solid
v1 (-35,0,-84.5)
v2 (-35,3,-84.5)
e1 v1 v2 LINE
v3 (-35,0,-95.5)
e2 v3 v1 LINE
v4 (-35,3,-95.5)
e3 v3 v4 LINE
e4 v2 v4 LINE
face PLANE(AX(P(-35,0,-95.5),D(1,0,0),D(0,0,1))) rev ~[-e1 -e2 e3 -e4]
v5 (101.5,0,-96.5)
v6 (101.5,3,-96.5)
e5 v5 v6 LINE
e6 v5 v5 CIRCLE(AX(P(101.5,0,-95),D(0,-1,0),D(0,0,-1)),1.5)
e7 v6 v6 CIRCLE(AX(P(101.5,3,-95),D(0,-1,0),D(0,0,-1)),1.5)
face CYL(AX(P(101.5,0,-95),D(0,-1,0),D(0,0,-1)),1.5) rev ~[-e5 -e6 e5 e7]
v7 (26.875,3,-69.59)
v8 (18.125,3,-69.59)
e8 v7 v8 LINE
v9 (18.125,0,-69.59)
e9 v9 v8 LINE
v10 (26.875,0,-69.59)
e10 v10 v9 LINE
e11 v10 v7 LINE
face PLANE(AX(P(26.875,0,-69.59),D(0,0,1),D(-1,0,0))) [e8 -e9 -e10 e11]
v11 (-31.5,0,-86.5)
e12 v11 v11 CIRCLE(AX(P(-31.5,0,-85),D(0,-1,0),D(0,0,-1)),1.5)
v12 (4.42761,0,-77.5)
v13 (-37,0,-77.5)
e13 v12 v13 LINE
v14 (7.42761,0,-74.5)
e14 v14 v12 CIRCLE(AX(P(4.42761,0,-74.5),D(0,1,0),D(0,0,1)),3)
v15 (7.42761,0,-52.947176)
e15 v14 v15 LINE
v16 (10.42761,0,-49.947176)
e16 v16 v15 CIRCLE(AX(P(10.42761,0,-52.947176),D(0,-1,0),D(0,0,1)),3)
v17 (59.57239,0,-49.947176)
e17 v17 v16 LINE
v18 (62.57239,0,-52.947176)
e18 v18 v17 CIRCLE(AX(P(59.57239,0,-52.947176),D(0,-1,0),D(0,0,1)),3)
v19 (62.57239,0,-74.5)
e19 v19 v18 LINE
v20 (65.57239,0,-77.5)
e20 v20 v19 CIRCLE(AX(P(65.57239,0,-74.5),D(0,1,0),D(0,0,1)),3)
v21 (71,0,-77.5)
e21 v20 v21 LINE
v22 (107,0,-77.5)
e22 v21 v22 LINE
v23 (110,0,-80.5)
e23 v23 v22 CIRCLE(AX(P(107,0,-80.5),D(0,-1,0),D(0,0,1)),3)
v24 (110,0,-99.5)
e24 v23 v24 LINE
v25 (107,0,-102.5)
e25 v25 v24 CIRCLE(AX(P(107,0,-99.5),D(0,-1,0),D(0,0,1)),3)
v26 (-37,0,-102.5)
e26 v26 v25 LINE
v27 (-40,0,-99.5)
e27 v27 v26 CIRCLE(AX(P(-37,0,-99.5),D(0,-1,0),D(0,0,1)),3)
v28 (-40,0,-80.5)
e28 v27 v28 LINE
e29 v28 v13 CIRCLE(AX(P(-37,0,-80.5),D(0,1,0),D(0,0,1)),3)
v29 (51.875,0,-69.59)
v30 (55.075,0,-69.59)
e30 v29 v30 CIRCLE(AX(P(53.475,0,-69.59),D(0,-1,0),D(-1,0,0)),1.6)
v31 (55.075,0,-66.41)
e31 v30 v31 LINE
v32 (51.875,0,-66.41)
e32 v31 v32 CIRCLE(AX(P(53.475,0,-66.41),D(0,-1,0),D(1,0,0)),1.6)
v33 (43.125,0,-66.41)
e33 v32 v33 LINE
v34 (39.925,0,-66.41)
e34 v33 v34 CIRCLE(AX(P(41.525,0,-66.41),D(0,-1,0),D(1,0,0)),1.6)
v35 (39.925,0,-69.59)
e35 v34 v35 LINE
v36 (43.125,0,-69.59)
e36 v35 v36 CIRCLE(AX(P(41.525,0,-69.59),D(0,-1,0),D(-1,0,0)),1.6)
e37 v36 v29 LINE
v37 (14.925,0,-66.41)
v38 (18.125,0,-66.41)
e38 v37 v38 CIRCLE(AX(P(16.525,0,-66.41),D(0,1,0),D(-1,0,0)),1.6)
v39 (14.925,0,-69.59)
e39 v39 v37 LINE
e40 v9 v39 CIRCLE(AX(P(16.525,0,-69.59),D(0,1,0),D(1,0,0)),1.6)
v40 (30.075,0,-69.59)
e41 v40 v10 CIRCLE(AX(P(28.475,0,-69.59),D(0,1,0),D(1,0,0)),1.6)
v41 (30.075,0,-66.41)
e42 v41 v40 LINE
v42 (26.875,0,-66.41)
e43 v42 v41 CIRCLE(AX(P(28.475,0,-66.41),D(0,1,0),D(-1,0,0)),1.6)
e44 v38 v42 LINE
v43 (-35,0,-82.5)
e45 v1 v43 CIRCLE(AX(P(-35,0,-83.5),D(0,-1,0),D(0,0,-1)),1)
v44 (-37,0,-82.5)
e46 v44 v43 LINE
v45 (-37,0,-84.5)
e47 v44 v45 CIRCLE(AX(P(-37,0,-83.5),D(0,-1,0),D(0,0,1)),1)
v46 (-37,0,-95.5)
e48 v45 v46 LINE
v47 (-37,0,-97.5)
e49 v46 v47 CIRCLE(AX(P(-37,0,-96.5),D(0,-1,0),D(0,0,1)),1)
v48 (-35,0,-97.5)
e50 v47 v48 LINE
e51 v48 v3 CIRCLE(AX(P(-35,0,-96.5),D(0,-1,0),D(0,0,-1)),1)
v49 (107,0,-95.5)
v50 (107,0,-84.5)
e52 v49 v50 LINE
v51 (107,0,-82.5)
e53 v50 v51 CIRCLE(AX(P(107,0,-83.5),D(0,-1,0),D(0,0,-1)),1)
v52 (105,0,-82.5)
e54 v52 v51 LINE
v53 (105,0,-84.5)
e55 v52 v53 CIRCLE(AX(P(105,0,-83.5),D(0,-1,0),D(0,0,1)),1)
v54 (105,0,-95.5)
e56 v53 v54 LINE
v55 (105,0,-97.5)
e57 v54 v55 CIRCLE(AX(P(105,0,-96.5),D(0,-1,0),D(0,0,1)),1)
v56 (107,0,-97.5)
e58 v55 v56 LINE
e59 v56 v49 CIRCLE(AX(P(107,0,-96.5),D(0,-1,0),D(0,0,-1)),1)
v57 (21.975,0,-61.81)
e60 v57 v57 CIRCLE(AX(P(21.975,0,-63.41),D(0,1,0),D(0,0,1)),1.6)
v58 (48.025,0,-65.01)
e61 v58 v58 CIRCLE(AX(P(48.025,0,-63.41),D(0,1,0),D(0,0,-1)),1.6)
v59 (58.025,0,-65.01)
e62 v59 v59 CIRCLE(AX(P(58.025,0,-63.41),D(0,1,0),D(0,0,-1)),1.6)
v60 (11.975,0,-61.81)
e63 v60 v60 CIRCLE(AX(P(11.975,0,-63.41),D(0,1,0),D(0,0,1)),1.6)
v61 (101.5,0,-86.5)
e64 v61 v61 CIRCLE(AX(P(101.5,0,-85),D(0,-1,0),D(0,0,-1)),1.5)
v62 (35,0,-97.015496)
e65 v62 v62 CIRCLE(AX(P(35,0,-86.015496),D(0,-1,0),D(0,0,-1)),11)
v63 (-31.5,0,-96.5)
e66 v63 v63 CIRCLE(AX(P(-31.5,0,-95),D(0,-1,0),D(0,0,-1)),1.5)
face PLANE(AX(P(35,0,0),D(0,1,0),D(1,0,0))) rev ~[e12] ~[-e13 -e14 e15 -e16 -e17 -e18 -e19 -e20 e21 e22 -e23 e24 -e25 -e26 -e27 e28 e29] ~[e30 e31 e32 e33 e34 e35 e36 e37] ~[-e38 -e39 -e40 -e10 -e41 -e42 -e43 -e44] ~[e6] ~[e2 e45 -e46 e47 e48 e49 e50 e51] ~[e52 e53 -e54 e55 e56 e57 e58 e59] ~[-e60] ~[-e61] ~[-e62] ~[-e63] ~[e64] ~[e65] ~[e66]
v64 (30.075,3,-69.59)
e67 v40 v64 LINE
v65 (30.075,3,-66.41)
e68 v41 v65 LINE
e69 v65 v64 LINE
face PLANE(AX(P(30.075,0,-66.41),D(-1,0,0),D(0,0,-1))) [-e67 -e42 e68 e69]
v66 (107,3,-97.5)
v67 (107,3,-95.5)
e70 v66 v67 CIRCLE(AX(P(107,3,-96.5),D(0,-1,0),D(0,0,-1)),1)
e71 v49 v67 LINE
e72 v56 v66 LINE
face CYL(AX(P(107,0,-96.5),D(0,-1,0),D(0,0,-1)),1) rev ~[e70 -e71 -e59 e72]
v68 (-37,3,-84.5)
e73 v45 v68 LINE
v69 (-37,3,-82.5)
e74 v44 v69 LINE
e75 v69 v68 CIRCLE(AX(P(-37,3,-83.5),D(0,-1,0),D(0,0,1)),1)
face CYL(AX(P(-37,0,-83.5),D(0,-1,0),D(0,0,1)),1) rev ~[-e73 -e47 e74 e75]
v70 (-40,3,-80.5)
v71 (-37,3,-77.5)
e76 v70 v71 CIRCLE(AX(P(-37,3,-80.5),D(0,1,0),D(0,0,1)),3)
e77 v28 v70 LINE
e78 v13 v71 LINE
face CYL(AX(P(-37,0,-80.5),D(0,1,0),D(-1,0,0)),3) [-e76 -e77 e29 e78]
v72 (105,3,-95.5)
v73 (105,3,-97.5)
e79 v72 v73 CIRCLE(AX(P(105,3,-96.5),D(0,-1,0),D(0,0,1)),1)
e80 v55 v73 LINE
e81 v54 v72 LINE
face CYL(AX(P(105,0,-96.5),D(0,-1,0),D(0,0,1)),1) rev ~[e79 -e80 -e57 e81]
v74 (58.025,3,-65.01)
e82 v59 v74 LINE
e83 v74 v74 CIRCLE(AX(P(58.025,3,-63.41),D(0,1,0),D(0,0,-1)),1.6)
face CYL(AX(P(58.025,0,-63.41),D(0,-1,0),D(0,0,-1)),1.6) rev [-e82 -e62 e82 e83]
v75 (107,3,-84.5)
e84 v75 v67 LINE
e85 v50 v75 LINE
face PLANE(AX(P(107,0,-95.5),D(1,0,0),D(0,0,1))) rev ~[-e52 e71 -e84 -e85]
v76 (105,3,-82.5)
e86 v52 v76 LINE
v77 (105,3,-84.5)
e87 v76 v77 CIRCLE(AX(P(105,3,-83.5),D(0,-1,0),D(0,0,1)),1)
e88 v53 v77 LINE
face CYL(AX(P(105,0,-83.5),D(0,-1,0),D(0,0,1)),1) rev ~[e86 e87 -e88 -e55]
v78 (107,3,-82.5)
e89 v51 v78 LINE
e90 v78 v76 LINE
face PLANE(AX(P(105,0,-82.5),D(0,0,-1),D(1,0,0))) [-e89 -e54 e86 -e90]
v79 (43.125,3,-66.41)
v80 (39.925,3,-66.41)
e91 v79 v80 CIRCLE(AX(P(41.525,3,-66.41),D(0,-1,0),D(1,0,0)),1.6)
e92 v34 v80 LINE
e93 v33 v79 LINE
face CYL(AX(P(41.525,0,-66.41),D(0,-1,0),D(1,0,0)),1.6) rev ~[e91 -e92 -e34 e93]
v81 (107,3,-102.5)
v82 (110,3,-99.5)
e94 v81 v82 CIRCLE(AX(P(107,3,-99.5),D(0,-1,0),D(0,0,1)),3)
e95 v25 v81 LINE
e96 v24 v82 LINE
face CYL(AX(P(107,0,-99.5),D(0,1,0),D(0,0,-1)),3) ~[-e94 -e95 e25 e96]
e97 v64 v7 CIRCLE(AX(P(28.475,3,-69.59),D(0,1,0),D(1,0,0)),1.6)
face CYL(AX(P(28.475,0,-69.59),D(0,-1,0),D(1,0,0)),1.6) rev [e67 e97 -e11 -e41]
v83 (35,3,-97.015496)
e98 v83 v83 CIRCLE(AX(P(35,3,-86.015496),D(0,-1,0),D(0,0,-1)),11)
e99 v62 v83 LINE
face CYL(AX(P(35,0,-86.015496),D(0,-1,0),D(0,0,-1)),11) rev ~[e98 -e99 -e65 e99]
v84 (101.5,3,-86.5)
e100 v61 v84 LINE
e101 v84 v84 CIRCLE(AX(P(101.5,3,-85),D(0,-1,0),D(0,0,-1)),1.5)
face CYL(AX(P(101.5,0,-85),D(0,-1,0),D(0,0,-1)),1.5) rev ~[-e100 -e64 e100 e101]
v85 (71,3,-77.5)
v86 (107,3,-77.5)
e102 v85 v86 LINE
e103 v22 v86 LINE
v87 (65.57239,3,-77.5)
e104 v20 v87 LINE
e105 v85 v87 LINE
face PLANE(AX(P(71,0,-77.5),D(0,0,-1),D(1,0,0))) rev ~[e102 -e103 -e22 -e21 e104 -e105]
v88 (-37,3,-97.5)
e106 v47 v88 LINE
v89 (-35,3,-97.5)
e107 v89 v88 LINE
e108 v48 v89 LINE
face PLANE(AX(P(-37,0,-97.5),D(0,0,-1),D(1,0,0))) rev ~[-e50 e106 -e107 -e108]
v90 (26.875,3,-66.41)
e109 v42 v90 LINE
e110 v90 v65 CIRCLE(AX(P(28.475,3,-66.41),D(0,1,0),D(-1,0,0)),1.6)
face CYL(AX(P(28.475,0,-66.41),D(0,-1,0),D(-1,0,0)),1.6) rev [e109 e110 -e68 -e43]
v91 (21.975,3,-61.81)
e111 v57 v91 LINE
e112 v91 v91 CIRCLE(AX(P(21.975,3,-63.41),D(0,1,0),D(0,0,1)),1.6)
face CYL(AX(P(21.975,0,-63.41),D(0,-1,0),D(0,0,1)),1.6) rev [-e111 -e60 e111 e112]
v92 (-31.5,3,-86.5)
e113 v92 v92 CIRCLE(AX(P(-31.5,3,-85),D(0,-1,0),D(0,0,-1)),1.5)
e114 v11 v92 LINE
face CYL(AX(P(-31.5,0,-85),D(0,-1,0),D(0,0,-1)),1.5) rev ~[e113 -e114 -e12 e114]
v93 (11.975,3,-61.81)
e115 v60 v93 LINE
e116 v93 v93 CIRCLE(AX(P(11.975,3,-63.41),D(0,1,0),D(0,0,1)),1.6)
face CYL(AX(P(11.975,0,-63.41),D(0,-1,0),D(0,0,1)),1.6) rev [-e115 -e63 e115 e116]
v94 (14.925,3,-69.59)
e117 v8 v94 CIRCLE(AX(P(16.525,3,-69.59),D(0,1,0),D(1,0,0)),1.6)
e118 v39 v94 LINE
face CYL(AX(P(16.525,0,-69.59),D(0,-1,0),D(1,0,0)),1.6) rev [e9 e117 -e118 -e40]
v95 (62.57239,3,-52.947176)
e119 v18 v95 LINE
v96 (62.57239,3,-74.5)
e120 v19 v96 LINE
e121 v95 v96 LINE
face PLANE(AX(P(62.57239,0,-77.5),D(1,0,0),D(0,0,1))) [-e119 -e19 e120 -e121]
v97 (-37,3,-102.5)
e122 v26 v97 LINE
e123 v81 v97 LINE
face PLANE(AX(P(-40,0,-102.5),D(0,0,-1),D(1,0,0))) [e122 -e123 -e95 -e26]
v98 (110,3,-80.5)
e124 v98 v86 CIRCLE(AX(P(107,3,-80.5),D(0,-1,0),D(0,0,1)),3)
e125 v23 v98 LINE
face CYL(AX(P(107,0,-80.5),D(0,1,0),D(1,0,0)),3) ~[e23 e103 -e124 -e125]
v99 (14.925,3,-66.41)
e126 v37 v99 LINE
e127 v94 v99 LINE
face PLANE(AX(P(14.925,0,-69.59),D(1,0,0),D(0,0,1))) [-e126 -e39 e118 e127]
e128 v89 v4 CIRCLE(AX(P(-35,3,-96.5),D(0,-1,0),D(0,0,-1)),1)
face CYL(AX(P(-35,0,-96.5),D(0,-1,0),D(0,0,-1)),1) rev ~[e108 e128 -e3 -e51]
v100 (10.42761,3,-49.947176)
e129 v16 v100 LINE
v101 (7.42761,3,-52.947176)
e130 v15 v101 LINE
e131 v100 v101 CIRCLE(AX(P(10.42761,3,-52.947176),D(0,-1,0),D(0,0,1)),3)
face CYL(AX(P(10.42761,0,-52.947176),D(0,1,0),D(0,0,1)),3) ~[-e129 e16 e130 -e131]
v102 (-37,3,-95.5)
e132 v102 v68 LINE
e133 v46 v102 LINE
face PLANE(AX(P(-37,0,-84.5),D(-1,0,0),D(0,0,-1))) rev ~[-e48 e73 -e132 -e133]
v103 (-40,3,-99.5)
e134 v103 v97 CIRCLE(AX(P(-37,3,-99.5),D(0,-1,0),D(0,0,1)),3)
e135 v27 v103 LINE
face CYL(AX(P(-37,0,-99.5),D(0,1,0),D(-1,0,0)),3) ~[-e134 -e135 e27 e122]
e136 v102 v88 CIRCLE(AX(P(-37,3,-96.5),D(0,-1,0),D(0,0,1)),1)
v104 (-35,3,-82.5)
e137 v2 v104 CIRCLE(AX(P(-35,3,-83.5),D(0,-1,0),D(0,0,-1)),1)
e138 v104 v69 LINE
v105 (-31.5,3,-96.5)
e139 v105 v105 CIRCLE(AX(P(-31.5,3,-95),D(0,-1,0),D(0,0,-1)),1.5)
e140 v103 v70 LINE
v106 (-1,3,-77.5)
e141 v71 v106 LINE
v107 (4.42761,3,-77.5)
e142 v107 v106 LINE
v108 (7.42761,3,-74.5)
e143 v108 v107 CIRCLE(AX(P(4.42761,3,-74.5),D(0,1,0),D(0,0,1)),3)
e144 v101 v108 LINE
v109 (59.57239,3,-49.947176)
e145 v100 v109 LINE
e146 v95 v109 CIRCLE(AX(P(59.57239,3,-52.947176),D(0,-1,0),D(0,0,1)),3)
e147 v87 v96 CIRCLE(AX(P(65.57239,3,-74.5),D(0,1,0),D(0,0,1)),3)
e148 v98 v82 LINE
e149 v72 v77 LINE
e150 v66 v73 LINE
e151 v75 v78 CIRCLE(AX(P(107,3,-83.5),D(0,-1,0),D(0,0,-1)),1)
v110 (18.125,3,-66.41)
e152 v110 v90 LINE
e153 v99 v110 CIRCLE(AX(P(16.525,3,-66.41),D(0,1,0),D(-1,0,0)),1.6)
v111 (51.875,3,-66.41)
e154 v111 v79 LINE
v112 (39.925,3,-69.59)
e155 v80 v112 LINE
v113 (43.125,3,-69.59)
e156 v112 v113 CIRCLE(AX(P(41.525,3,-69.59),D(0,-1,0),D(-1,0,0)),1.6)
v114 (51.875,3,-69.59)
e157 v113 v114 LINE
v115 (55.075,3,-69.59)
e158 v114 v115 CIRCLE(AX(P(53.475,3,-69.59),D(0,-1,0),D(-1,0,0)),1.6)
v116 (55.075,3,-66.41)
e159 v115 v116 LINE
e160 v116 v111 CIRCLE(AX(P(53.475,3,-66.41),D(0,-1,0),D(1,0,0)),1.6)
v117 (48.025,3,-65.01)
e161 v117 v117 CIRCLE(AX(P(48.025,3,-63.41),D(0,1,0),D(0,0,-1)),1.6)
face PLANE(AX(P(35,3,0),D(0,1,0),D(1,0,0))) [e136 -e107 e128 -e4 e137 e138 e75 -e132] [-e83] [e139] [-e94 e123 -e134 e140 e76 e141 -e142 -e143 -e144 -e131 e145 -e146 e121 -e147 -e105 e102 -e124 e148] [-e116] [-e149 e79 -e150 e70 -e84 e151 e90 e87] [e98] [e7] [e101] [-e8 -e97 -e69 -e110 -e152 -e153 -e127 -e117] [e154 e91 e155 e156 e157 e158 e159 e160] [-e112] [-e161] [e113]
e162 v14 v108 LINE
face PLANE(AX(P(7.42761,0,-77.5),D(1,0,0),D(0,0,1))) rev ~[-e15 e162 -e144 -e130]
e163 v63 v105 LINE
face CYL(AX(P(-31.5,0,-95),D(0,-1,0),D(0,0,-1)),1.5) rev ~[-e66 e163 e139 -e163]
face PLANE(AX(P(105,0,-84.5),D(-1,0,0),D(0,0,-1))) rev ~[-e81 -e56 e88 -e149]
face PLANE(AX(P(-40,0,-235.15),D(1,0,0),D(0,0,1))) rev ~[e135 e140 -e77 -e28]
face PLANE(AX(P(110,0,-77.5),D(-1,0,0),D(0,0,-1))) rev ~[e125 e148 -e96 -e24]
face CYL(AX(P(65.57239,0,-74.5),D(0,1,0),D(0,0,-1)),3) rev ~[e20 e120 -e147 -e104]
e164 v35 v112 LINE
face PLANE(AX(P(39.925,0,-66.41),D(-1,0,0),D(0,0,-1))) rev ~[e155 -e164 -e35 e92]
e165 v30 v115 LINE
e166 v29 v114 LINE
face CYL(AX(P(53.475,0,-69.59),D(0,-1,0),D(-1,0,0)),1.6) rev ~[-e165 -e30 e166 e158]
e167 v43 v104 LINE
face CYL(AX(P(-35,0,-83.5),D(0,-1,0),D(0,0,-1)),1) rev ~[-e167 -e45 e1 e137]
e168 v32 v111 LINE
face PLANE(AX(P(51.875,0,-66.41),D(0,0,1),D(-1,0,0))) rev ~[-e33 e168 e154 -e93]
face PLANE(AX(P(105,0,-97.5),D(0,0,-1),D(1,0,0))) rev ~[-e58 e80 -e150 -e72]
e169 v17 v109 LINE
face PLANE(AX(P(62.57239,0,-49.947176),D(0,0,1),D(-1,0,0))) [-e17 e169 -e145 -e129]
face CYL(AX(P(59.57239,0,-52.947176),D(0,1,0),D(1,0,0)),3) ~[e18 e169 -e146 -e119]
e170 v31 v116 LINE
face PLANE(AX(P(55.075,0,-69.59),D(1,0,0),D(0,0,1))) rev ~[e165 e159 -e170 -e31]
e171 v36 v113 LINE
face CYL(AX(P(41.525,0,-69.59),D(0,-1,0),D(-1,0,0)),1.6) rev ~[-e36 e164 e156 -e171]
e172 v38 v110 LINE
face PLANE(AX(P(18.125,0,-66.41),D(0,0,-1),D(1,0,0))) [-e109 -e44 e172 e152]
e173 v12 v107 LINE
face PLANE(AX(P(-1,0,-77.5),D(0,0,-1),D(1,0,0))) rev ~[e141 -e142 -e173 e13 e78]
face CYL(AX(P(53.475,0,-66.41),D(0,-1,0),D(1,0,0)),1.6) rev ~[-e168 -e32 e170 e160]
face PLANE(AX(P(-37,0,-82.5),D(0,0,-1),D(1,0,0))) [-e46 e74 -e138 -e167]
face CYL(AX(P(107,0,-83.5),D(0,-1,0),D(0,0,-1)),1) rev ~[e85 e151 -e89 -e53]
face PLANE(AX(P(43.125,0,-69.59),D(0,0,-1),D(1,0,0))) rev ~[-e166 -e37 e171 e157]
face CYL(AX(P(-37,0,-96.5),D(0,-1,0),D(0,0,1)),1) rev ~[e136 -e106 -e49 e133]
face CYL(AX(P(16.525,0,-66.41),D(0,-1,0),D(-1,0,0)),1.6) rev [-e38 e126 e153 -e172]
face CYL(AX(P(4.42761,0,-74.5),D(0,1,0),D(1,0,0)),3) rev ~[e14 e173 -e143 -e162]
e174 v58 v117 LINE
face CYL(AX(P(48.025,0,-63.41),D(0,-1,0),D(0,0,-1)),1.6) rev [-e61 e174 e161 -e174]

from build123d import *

# Parameters (mm, degrees)
SKETCH_1_R          = 1.6
EXTRUDE_1_DEPTH     = 3
SKETCH_5_W          = 8.427610272
SKETCH_5_H          = 29.562823711
CUT_EXTRUDE_4_DEPTH = 10
SKETCH_7_W          = 55.144779456
SKETCH_7_H          = 10
CUT_EXTRUDE_1_DEPTH = 100
CUT_EXTRUDE_5_DEPTH = 100
CUT_EXTRUDE_6_DEPTH = 100
FILLET_3_R          = 3
SKETCH_10_W         = 2
SKETCH_10_H         = 2
SKETCH_10_H_2       = 11
SKETCH_10_R         = 1.5
CUT_EXTRUDE_7_DEPTH = 10
SKETCH_11_R         = 11
CUT_EXTRUDE_8_DEPTH = 10


with BuildPart() as part:
    # 草图1 → 凸台-拉伸1 (new body)
    with BuildSketch(Plane(origin=(0, 0, 0), x_dir=(1, 0, 0), z_dir=(0, 1, 0))):
        Polygon((-1, -77.5), (-40, -77.5), (-40, -235.15), (110, -235.15), (110, -77.5), (71, -77.5), (71, -47.937176289), (113.89906921, -47.937176289), (113.89906921, 47.937176289), (71, 47.937176289), (71, 77.5), (110, 77.5), (110, 235.15), (-40, 235.15), (-40, 77.5), (-1, 77.5), (-1, 47.937176289), (-43.89906921, 47.937176289), (-43.89906921, -47.937176289), (-1, -47.937176289), align=None)
        with Locations(Location((48.025, -63.59, 0), (0, 0, 90))):
            Circle(SKETCH_1_R, mode=Mode.SUBTRACT)
        with Locations(Location((58.025, -63.59, 0), (0, 0, 90))):
            Circle(SKETCH_1_R, mode=Mode.SUBTRACT)
        with Locations(Location((58.025, 63.41, 0), (0, 0, 90))):
            Circle(SKETCH_1_R, mode=Mode.SUBTRACT)
        with Locations(Location((48.025, 63.41, 0), (0, 0, 90))):
            Circle(SKETCH_1_R, mode=Mode.SUBTRACT)
        with Locations(Location((11.975, -63.59, 0), (0, 0, 270))):
            Circle(SKETCH_1_R, mode=Mode.SUBTRACT)
        with Locations(Location((21.975, -63.59, 0), (0, 0, 270))):
            Circle(SKETCH_1_R, mode=Mode.SUBTRACT)
        with Locations(Location((21.975, 63.41, 0), (0, 0, 270))):
            Circle(SKETCH_1_R, mode=Mode.SUBTRACT)
        with Locations(Location((11.975, 63.41, 0), (0, 0, 270))):
            Circle(SKETCH_1_R, mode=Mode.SUBTRACT)
        with BuildLine():
            Line((30.075, -69.59), (30.075, -66.41))
            ThreePointArc((30.075, -66.41), (28.475, -64.81), (26.875, -66.41))
            Line((26.875, -66.41), (18.125, -66.41))
            ThreePointArc((18.125, -66.41), (16.525, -64.81), (14.925, -66.41))
            Line((14.925, -66.41), (14.925, -69.59))
            ThreePointArc((14.925, -69.59), (16.525, -71.19), (18.125, -69.59))
            Line((18.125, -69.59), (26.875, -69.59))
            ThreePointArc((26.875, -69.59), (28.475, -71.19), (30.075, -69.59))
        make_face(mode=Mode.SUBTRACT)
        with BuildLine():
            Line((43.125, 69.59), (51.875, 69.59))
            ThreePointArc((51.875, 69.59), (53.475, 71.19), (55.075, 69.59))
            Line((55.075, 69.59), (55.075, 66.41))
            ThreePointArc((55.075, 66.41), (53.475, 64.81), (51.875, 66.41))
            Line((51.875, 66.41), (43.125, 66.41))
            ThreePointArc((43.125, 66.41), (41.525, 64.81), (39.925, 66.41))
            Line((39.925, 66.41), (39.925, 69.59))
            ThreePointArc((39.925, 69.59), (41.525, 71.19), (43.125, 69.59))
        make_face(mode=Mode.SUBTRACT)
        with BuildLine():
            Line((55.075, -69.59), (55.075, -66.41))
            ThreePointArc((55.075, -66.41), (53.475, -64.81), (51.875, -66.41))
            Line((51.875, -66.41), (43.125, -66.41))
            ThreePointArc((43.125, -66.41), (41.525, -64.81), (39.925, -66.41))
            Line((39.925, -66.41), (39.925, -69.59))
            ThreePointArc((39.925, -69.59), (41.525, -71.19), (43.125, -69.59))
            Line((43.125, -69.59), (51.875, -69.59))
            ThreePointArc((51.875, -69.59), (53.475, -71.19), (55.075, -69.59))
        make_face(mode=Mode.SUBTRACT)
        with BuildLine():
            Line((14.925, 69.59), (14.925, 66.41))
            ThreePointArc((14.925, 66.41), (16.525, 64.81), (18.125, 66.41))
            Line((18.125, 66.41), (26.875, 66.41))
            ThreePointArc((26.875, 66.41), (28.475, 64.81), (30.075, 66.41))
            Line((30.075, 66.41), (30.075, 69.59))
            ThreePointArc((30.075, 69.59), (28.475, 71.19), (26.875, 69.59))
            Line((26.875, 69.59), (18.125, 69.59))
            ThreePointArc((18.125, 69.59), (16.525, 71.19), (14.925, 69.59))
        make_face(mode=Mode.SUBTRACT)
    extrude(amount=EXTRUDE_1_DEPTH)

    # 草图5 → 切除-拉伸4 (cut)
    with BuildSketch(Plane.XZ):
        with Locations((66.786194864, 62.718588145)):
            Rectangle(SKETCH_5_W, SKETCH_5_H)
        with Locations((3.213805136, 62.718588145)):
            Rectangle(SKETCH_5_W, SKETCH_5_H)
        with Locations((3.213805136, -62.718588145)):
            Rectangle(SKETCH_5_W, SKETCH_5_H)
        with Locations((66.786194864, -62.718588145)):
            Rectangle(SKETCH_5_W, SKETCH_5_H)
    extrude(amount=-CUT_EXTRUDE_4_DEPTH, mode=Mode.SUBTRACT)

    # 草图7 → 切除-拉伸-薄壁1 (cut)
    with BuildSketch(Plane(origin=(0, 0, 0), x_dir=(-1, 0, 0), z_dir=(0, -1, 0))):
        with Locations((-35, -55.277176289)):
            Rectangle(SKETCH_7_W, SKETCH_7_H)
        Polygon((-113.89906921, -0.33), (-113.89906921, 47.607176289), (-62.572389728, 47.607176289), (-62.572389728, 49.947176289), (-7.427610272, 49.947176289), (-7.427610272, 47.607176289), (43.89906921, 47.607176289), (43.89906921, -0.33), (33.89906921, -0.33), (33.89906921, 37.607176289), (-17.427610272, 37.607176289), (-17.427610272, 39.947176289), (-52.572389728, 39.947176289), (-52.572389728, 37.607176289), (-103.89906921, 37.607176289), (-103.89906921, -0.33), align=None)
    extrude(amount=-CUT_EXTRUDE_1_DEPTH, mode=Mode.SUBTRACT)


with BuildPart() as cut_extrude_1_piece_1:
    # of the separate pieces the step leaves, piece 1, a body of its own (cut_extrude_1_pieces)
    add(part.part.solids().sort_by_distance((7.427610272, 0, -77.5))[0])

    # 草图9 → 切除-拉伸6 (cut)
    with BuildSketch(Plane.XZ):
        Polygon((-40, -102.5), (110, -102.5), (124.211694431, -119.691261336), (154.987235789, -211.57345947), (124.211694431, -286.861832075), (-63.673505757, -270.701496299), (-75.556105593, -182.770257517), (-74.082044988, -165.632360403), align=None)
    extrude(amount=-CUT_EXTRUDE_6_DEPTH, mode=Mode.SUBTRACT)

    # 圆角3
    fillet_3_edges = [cut_extrude_1_piece_1.edges().sort_by_distance(p)[0] for p in [
        (110, 1.5, -77.5),
        (-40, 1.5, -77.5),
        (62.572389728, 1.5, -77.5),
        (7.427610272, 1.5, -77.5),
        (-40, 1.5, -102.5),
        (110, 1.5, -102.5),
        (7.427610272, 1.5, -49.947176289),
        (62.572389728, 1.5, -49.947176289),
    ]]
    fillet(fillet_3_edges, radius=FILLET_3_R)

    # 草图10 → 切除-拉伸7 (cut)
    with BuildSketch(Plane.XZ):
        with BuildLine():
            ThreePointArc((-35, -84.5), (-34, -83.5), (-35, -82.5))
            Line((-35, -82.5), (-35, -84.5))
        make_face()
        with BuildLine():
            Line((-37, -84.5), (-37, -82.5))
            ThreePointArc((-37, -82.5), (-38, -83.5), (-37, -84.5))
        make_face()
        with Locations((-36, -83.5)):
            Rectangle(SKETCH_10_W, SKETCH_10_H)
        with Locations((-36, -90)):
            Rectangle(SKETCH_10_W, SKETCH_10_H_2)
        with Locations((-36, -96.5)):
            Rectangle(SKETCH_10_W, SKETCH_10_H)
        with BuildLine():
            Line((-37, -97.5), (-37, -95.5))
            ThreePointArc((-37, -95.5), (-38, -96.5), (-37, -97.5))
        make_face()
        with BuildLine():
            ThreePointArc((-35, -97.5), (-34, -96.5), (-35, -95.5))
            Line((-35, -95.5), (-35, -97.5))
        make_face()
        with Locations(Location((-31.5, -95, 0), (0, 0, 270))):
            Circle(SKETCH_10_R)
        with Locations(Location((-31.5, -85, 0), (0, 0, 270))):
            Circle(SKETCH_10_R)
        with BuildLine():
            ThreePointArc((107, -97.5), (108, -96.5), (107, -95.5))
            Line((107, -95.5), (107, -97.5))
        make_face()
        with Locations((106, -96.5)):
            Rectangle(SKETCH_10_W, SKETCH_10_H)
        with BuildLine():
            Line((105, -97.5), (105, -95.5))
            ThreePointArc((105, -95.5), (104, -96.5), (105, -97.5))
        make_face()
        with Locations((106, -90)):
            Rectangle(SKETCH_10_W, SKETCH_10_H_2)
        with BuildLine():
            ThreePointArc((107, -84.5), (108, -83.5), (107, -82.5))
            Line((107, -82.5), (107, -84.5))
        make_face()
        with Locations((106, -83.5)):
            Rectangle(SKETCH_10_W, SKETCH_10_H)
        with BuildLine():
            Line((105, -84.5), (105, -82.5))
            ThreePointArc((105, -82.5), (104, -83.5), (105, -84.5))
        make_face()
        with Locations(Location((101.5, -85, 0), (0, 0, 270))):
            Circle(SKETCH_10_R)
        with Locations(Location((101.5, -95, 0), (0, 0, 270))):
            Circle(SKETCH_10_R)
    extrude(amount=-CUT_EXTRUDE_7_DEPTH, mode=Mode.SUBTRACT)

    # 草图11 → 切除-拉伸8 (cut)
    with BuildSketch(Plane.XZ):
        with Locations(Location((35, -86.015496457, 0), (0, 0, 270))):
            Circle(SKETCH_11_R)
    extrude(amount=-CUT_EXTRUDE_8_DEPTH, mode=Mode.SUBTRACT)


with BuildPart() as cut_extrude_1_piece_2:
    # of the separate pieces the step leaves, piece 2, a body of its own (cut_extrude_1_pieces)
    add(part.part.solids().sort_by_distance((-40, 0, 77.5))[0])


with BuildPart() as cut_extrude_1_piece_3:
    # of the separate pieces the step leaves, piece 3, a body of its own (cut_extrude_1_pieces)
    add(part.part.solids().sort_by_distance((7.427610272, 0, 50.277176289))[0])


with BuildPart() as cut_extrude_1_piece_4:
    # of the separate pieces the step leaves, piece 4, a body of its own (cut_extrude_1_pieces)
    add(part.part.solids().sort_by_distance((113.89906921, 0, -47.607176289))[0])


with BuildPart() as cut_extrude_1_piece_5:
    # of the separate pieces the step leaves, piece 5, a body of its own (cut_extrude_1_pieces)
    add(part.part.solids().sort_by_distance((-43.89906921, 0, -47.937176289))[0])


with BuildPart() as cut_extrude_5_tool:
    # 草图8 → 切除-拉伸5 (new body)
    with BuildSketch(Plane(origin=(0, 0, 0), x_dir=(-1, 0, 0), z_dir=(0, -1, 0))):
        Polygon((78.212914253, 60.385355647), (0, 54.326624312), (-4.481912928, 51.672567956), (-7.938908088, 48.761414138), (-49.331876445, 46.578048774), (-63.52375131, 48.761414138), (-79.080229528, 55.85735157), (-126.563695568, 60.385355647), (-136.561762242, 25.020008622), (-185.509289936, -177.467896247), (-114.798778659, -331.741539621), (230.896230576, -266.427705394), (230.896230576, -108.933419225), (223.681342993, -70.746247105), align=None)
    extrude(amount=-CUT_EXTRUDE_5_DEPTH)


with BuildPart() as cut_extrude_1_piece_2_1:
    add(cut_extrude_1_piece_2.part)

    # 切除-拉伸5: cut by cut_extrude_5_tool
    add(cut_extrude_5_tool.part, mode=Mode.SUBTRACT)


with BuildPart() as cut_extrude_1_piece_3_1:
    add(cut_extrude_1_piece_3.part)

    # 切除-拉伸5: cut by cut_extrude_5_tool
    add(cut_extrude_5_tool.part, mode=Mode.SUBTRACT)


with BuildPart() as cut_extrude_1_piece_4_1:
    add(cut_extrude_1_piece_4.part)

    # 切除-拉伸5: cut by cut_extrude_5_tool
    add(cut_extrude_5_tool.part, mode=Mode.SUBTRACT)


with BuildPart() as cut_extrude_1_piece_5_1:
    add(cut_extrude_1_piece_5.part)

    # 切除-拉伸5: cut by cut_extrude_5_tool
    add(cut_extrude_5_tool.part, mode=Mode.SUBTRACT)


solid = cut_extrude_1_piece_1.part
